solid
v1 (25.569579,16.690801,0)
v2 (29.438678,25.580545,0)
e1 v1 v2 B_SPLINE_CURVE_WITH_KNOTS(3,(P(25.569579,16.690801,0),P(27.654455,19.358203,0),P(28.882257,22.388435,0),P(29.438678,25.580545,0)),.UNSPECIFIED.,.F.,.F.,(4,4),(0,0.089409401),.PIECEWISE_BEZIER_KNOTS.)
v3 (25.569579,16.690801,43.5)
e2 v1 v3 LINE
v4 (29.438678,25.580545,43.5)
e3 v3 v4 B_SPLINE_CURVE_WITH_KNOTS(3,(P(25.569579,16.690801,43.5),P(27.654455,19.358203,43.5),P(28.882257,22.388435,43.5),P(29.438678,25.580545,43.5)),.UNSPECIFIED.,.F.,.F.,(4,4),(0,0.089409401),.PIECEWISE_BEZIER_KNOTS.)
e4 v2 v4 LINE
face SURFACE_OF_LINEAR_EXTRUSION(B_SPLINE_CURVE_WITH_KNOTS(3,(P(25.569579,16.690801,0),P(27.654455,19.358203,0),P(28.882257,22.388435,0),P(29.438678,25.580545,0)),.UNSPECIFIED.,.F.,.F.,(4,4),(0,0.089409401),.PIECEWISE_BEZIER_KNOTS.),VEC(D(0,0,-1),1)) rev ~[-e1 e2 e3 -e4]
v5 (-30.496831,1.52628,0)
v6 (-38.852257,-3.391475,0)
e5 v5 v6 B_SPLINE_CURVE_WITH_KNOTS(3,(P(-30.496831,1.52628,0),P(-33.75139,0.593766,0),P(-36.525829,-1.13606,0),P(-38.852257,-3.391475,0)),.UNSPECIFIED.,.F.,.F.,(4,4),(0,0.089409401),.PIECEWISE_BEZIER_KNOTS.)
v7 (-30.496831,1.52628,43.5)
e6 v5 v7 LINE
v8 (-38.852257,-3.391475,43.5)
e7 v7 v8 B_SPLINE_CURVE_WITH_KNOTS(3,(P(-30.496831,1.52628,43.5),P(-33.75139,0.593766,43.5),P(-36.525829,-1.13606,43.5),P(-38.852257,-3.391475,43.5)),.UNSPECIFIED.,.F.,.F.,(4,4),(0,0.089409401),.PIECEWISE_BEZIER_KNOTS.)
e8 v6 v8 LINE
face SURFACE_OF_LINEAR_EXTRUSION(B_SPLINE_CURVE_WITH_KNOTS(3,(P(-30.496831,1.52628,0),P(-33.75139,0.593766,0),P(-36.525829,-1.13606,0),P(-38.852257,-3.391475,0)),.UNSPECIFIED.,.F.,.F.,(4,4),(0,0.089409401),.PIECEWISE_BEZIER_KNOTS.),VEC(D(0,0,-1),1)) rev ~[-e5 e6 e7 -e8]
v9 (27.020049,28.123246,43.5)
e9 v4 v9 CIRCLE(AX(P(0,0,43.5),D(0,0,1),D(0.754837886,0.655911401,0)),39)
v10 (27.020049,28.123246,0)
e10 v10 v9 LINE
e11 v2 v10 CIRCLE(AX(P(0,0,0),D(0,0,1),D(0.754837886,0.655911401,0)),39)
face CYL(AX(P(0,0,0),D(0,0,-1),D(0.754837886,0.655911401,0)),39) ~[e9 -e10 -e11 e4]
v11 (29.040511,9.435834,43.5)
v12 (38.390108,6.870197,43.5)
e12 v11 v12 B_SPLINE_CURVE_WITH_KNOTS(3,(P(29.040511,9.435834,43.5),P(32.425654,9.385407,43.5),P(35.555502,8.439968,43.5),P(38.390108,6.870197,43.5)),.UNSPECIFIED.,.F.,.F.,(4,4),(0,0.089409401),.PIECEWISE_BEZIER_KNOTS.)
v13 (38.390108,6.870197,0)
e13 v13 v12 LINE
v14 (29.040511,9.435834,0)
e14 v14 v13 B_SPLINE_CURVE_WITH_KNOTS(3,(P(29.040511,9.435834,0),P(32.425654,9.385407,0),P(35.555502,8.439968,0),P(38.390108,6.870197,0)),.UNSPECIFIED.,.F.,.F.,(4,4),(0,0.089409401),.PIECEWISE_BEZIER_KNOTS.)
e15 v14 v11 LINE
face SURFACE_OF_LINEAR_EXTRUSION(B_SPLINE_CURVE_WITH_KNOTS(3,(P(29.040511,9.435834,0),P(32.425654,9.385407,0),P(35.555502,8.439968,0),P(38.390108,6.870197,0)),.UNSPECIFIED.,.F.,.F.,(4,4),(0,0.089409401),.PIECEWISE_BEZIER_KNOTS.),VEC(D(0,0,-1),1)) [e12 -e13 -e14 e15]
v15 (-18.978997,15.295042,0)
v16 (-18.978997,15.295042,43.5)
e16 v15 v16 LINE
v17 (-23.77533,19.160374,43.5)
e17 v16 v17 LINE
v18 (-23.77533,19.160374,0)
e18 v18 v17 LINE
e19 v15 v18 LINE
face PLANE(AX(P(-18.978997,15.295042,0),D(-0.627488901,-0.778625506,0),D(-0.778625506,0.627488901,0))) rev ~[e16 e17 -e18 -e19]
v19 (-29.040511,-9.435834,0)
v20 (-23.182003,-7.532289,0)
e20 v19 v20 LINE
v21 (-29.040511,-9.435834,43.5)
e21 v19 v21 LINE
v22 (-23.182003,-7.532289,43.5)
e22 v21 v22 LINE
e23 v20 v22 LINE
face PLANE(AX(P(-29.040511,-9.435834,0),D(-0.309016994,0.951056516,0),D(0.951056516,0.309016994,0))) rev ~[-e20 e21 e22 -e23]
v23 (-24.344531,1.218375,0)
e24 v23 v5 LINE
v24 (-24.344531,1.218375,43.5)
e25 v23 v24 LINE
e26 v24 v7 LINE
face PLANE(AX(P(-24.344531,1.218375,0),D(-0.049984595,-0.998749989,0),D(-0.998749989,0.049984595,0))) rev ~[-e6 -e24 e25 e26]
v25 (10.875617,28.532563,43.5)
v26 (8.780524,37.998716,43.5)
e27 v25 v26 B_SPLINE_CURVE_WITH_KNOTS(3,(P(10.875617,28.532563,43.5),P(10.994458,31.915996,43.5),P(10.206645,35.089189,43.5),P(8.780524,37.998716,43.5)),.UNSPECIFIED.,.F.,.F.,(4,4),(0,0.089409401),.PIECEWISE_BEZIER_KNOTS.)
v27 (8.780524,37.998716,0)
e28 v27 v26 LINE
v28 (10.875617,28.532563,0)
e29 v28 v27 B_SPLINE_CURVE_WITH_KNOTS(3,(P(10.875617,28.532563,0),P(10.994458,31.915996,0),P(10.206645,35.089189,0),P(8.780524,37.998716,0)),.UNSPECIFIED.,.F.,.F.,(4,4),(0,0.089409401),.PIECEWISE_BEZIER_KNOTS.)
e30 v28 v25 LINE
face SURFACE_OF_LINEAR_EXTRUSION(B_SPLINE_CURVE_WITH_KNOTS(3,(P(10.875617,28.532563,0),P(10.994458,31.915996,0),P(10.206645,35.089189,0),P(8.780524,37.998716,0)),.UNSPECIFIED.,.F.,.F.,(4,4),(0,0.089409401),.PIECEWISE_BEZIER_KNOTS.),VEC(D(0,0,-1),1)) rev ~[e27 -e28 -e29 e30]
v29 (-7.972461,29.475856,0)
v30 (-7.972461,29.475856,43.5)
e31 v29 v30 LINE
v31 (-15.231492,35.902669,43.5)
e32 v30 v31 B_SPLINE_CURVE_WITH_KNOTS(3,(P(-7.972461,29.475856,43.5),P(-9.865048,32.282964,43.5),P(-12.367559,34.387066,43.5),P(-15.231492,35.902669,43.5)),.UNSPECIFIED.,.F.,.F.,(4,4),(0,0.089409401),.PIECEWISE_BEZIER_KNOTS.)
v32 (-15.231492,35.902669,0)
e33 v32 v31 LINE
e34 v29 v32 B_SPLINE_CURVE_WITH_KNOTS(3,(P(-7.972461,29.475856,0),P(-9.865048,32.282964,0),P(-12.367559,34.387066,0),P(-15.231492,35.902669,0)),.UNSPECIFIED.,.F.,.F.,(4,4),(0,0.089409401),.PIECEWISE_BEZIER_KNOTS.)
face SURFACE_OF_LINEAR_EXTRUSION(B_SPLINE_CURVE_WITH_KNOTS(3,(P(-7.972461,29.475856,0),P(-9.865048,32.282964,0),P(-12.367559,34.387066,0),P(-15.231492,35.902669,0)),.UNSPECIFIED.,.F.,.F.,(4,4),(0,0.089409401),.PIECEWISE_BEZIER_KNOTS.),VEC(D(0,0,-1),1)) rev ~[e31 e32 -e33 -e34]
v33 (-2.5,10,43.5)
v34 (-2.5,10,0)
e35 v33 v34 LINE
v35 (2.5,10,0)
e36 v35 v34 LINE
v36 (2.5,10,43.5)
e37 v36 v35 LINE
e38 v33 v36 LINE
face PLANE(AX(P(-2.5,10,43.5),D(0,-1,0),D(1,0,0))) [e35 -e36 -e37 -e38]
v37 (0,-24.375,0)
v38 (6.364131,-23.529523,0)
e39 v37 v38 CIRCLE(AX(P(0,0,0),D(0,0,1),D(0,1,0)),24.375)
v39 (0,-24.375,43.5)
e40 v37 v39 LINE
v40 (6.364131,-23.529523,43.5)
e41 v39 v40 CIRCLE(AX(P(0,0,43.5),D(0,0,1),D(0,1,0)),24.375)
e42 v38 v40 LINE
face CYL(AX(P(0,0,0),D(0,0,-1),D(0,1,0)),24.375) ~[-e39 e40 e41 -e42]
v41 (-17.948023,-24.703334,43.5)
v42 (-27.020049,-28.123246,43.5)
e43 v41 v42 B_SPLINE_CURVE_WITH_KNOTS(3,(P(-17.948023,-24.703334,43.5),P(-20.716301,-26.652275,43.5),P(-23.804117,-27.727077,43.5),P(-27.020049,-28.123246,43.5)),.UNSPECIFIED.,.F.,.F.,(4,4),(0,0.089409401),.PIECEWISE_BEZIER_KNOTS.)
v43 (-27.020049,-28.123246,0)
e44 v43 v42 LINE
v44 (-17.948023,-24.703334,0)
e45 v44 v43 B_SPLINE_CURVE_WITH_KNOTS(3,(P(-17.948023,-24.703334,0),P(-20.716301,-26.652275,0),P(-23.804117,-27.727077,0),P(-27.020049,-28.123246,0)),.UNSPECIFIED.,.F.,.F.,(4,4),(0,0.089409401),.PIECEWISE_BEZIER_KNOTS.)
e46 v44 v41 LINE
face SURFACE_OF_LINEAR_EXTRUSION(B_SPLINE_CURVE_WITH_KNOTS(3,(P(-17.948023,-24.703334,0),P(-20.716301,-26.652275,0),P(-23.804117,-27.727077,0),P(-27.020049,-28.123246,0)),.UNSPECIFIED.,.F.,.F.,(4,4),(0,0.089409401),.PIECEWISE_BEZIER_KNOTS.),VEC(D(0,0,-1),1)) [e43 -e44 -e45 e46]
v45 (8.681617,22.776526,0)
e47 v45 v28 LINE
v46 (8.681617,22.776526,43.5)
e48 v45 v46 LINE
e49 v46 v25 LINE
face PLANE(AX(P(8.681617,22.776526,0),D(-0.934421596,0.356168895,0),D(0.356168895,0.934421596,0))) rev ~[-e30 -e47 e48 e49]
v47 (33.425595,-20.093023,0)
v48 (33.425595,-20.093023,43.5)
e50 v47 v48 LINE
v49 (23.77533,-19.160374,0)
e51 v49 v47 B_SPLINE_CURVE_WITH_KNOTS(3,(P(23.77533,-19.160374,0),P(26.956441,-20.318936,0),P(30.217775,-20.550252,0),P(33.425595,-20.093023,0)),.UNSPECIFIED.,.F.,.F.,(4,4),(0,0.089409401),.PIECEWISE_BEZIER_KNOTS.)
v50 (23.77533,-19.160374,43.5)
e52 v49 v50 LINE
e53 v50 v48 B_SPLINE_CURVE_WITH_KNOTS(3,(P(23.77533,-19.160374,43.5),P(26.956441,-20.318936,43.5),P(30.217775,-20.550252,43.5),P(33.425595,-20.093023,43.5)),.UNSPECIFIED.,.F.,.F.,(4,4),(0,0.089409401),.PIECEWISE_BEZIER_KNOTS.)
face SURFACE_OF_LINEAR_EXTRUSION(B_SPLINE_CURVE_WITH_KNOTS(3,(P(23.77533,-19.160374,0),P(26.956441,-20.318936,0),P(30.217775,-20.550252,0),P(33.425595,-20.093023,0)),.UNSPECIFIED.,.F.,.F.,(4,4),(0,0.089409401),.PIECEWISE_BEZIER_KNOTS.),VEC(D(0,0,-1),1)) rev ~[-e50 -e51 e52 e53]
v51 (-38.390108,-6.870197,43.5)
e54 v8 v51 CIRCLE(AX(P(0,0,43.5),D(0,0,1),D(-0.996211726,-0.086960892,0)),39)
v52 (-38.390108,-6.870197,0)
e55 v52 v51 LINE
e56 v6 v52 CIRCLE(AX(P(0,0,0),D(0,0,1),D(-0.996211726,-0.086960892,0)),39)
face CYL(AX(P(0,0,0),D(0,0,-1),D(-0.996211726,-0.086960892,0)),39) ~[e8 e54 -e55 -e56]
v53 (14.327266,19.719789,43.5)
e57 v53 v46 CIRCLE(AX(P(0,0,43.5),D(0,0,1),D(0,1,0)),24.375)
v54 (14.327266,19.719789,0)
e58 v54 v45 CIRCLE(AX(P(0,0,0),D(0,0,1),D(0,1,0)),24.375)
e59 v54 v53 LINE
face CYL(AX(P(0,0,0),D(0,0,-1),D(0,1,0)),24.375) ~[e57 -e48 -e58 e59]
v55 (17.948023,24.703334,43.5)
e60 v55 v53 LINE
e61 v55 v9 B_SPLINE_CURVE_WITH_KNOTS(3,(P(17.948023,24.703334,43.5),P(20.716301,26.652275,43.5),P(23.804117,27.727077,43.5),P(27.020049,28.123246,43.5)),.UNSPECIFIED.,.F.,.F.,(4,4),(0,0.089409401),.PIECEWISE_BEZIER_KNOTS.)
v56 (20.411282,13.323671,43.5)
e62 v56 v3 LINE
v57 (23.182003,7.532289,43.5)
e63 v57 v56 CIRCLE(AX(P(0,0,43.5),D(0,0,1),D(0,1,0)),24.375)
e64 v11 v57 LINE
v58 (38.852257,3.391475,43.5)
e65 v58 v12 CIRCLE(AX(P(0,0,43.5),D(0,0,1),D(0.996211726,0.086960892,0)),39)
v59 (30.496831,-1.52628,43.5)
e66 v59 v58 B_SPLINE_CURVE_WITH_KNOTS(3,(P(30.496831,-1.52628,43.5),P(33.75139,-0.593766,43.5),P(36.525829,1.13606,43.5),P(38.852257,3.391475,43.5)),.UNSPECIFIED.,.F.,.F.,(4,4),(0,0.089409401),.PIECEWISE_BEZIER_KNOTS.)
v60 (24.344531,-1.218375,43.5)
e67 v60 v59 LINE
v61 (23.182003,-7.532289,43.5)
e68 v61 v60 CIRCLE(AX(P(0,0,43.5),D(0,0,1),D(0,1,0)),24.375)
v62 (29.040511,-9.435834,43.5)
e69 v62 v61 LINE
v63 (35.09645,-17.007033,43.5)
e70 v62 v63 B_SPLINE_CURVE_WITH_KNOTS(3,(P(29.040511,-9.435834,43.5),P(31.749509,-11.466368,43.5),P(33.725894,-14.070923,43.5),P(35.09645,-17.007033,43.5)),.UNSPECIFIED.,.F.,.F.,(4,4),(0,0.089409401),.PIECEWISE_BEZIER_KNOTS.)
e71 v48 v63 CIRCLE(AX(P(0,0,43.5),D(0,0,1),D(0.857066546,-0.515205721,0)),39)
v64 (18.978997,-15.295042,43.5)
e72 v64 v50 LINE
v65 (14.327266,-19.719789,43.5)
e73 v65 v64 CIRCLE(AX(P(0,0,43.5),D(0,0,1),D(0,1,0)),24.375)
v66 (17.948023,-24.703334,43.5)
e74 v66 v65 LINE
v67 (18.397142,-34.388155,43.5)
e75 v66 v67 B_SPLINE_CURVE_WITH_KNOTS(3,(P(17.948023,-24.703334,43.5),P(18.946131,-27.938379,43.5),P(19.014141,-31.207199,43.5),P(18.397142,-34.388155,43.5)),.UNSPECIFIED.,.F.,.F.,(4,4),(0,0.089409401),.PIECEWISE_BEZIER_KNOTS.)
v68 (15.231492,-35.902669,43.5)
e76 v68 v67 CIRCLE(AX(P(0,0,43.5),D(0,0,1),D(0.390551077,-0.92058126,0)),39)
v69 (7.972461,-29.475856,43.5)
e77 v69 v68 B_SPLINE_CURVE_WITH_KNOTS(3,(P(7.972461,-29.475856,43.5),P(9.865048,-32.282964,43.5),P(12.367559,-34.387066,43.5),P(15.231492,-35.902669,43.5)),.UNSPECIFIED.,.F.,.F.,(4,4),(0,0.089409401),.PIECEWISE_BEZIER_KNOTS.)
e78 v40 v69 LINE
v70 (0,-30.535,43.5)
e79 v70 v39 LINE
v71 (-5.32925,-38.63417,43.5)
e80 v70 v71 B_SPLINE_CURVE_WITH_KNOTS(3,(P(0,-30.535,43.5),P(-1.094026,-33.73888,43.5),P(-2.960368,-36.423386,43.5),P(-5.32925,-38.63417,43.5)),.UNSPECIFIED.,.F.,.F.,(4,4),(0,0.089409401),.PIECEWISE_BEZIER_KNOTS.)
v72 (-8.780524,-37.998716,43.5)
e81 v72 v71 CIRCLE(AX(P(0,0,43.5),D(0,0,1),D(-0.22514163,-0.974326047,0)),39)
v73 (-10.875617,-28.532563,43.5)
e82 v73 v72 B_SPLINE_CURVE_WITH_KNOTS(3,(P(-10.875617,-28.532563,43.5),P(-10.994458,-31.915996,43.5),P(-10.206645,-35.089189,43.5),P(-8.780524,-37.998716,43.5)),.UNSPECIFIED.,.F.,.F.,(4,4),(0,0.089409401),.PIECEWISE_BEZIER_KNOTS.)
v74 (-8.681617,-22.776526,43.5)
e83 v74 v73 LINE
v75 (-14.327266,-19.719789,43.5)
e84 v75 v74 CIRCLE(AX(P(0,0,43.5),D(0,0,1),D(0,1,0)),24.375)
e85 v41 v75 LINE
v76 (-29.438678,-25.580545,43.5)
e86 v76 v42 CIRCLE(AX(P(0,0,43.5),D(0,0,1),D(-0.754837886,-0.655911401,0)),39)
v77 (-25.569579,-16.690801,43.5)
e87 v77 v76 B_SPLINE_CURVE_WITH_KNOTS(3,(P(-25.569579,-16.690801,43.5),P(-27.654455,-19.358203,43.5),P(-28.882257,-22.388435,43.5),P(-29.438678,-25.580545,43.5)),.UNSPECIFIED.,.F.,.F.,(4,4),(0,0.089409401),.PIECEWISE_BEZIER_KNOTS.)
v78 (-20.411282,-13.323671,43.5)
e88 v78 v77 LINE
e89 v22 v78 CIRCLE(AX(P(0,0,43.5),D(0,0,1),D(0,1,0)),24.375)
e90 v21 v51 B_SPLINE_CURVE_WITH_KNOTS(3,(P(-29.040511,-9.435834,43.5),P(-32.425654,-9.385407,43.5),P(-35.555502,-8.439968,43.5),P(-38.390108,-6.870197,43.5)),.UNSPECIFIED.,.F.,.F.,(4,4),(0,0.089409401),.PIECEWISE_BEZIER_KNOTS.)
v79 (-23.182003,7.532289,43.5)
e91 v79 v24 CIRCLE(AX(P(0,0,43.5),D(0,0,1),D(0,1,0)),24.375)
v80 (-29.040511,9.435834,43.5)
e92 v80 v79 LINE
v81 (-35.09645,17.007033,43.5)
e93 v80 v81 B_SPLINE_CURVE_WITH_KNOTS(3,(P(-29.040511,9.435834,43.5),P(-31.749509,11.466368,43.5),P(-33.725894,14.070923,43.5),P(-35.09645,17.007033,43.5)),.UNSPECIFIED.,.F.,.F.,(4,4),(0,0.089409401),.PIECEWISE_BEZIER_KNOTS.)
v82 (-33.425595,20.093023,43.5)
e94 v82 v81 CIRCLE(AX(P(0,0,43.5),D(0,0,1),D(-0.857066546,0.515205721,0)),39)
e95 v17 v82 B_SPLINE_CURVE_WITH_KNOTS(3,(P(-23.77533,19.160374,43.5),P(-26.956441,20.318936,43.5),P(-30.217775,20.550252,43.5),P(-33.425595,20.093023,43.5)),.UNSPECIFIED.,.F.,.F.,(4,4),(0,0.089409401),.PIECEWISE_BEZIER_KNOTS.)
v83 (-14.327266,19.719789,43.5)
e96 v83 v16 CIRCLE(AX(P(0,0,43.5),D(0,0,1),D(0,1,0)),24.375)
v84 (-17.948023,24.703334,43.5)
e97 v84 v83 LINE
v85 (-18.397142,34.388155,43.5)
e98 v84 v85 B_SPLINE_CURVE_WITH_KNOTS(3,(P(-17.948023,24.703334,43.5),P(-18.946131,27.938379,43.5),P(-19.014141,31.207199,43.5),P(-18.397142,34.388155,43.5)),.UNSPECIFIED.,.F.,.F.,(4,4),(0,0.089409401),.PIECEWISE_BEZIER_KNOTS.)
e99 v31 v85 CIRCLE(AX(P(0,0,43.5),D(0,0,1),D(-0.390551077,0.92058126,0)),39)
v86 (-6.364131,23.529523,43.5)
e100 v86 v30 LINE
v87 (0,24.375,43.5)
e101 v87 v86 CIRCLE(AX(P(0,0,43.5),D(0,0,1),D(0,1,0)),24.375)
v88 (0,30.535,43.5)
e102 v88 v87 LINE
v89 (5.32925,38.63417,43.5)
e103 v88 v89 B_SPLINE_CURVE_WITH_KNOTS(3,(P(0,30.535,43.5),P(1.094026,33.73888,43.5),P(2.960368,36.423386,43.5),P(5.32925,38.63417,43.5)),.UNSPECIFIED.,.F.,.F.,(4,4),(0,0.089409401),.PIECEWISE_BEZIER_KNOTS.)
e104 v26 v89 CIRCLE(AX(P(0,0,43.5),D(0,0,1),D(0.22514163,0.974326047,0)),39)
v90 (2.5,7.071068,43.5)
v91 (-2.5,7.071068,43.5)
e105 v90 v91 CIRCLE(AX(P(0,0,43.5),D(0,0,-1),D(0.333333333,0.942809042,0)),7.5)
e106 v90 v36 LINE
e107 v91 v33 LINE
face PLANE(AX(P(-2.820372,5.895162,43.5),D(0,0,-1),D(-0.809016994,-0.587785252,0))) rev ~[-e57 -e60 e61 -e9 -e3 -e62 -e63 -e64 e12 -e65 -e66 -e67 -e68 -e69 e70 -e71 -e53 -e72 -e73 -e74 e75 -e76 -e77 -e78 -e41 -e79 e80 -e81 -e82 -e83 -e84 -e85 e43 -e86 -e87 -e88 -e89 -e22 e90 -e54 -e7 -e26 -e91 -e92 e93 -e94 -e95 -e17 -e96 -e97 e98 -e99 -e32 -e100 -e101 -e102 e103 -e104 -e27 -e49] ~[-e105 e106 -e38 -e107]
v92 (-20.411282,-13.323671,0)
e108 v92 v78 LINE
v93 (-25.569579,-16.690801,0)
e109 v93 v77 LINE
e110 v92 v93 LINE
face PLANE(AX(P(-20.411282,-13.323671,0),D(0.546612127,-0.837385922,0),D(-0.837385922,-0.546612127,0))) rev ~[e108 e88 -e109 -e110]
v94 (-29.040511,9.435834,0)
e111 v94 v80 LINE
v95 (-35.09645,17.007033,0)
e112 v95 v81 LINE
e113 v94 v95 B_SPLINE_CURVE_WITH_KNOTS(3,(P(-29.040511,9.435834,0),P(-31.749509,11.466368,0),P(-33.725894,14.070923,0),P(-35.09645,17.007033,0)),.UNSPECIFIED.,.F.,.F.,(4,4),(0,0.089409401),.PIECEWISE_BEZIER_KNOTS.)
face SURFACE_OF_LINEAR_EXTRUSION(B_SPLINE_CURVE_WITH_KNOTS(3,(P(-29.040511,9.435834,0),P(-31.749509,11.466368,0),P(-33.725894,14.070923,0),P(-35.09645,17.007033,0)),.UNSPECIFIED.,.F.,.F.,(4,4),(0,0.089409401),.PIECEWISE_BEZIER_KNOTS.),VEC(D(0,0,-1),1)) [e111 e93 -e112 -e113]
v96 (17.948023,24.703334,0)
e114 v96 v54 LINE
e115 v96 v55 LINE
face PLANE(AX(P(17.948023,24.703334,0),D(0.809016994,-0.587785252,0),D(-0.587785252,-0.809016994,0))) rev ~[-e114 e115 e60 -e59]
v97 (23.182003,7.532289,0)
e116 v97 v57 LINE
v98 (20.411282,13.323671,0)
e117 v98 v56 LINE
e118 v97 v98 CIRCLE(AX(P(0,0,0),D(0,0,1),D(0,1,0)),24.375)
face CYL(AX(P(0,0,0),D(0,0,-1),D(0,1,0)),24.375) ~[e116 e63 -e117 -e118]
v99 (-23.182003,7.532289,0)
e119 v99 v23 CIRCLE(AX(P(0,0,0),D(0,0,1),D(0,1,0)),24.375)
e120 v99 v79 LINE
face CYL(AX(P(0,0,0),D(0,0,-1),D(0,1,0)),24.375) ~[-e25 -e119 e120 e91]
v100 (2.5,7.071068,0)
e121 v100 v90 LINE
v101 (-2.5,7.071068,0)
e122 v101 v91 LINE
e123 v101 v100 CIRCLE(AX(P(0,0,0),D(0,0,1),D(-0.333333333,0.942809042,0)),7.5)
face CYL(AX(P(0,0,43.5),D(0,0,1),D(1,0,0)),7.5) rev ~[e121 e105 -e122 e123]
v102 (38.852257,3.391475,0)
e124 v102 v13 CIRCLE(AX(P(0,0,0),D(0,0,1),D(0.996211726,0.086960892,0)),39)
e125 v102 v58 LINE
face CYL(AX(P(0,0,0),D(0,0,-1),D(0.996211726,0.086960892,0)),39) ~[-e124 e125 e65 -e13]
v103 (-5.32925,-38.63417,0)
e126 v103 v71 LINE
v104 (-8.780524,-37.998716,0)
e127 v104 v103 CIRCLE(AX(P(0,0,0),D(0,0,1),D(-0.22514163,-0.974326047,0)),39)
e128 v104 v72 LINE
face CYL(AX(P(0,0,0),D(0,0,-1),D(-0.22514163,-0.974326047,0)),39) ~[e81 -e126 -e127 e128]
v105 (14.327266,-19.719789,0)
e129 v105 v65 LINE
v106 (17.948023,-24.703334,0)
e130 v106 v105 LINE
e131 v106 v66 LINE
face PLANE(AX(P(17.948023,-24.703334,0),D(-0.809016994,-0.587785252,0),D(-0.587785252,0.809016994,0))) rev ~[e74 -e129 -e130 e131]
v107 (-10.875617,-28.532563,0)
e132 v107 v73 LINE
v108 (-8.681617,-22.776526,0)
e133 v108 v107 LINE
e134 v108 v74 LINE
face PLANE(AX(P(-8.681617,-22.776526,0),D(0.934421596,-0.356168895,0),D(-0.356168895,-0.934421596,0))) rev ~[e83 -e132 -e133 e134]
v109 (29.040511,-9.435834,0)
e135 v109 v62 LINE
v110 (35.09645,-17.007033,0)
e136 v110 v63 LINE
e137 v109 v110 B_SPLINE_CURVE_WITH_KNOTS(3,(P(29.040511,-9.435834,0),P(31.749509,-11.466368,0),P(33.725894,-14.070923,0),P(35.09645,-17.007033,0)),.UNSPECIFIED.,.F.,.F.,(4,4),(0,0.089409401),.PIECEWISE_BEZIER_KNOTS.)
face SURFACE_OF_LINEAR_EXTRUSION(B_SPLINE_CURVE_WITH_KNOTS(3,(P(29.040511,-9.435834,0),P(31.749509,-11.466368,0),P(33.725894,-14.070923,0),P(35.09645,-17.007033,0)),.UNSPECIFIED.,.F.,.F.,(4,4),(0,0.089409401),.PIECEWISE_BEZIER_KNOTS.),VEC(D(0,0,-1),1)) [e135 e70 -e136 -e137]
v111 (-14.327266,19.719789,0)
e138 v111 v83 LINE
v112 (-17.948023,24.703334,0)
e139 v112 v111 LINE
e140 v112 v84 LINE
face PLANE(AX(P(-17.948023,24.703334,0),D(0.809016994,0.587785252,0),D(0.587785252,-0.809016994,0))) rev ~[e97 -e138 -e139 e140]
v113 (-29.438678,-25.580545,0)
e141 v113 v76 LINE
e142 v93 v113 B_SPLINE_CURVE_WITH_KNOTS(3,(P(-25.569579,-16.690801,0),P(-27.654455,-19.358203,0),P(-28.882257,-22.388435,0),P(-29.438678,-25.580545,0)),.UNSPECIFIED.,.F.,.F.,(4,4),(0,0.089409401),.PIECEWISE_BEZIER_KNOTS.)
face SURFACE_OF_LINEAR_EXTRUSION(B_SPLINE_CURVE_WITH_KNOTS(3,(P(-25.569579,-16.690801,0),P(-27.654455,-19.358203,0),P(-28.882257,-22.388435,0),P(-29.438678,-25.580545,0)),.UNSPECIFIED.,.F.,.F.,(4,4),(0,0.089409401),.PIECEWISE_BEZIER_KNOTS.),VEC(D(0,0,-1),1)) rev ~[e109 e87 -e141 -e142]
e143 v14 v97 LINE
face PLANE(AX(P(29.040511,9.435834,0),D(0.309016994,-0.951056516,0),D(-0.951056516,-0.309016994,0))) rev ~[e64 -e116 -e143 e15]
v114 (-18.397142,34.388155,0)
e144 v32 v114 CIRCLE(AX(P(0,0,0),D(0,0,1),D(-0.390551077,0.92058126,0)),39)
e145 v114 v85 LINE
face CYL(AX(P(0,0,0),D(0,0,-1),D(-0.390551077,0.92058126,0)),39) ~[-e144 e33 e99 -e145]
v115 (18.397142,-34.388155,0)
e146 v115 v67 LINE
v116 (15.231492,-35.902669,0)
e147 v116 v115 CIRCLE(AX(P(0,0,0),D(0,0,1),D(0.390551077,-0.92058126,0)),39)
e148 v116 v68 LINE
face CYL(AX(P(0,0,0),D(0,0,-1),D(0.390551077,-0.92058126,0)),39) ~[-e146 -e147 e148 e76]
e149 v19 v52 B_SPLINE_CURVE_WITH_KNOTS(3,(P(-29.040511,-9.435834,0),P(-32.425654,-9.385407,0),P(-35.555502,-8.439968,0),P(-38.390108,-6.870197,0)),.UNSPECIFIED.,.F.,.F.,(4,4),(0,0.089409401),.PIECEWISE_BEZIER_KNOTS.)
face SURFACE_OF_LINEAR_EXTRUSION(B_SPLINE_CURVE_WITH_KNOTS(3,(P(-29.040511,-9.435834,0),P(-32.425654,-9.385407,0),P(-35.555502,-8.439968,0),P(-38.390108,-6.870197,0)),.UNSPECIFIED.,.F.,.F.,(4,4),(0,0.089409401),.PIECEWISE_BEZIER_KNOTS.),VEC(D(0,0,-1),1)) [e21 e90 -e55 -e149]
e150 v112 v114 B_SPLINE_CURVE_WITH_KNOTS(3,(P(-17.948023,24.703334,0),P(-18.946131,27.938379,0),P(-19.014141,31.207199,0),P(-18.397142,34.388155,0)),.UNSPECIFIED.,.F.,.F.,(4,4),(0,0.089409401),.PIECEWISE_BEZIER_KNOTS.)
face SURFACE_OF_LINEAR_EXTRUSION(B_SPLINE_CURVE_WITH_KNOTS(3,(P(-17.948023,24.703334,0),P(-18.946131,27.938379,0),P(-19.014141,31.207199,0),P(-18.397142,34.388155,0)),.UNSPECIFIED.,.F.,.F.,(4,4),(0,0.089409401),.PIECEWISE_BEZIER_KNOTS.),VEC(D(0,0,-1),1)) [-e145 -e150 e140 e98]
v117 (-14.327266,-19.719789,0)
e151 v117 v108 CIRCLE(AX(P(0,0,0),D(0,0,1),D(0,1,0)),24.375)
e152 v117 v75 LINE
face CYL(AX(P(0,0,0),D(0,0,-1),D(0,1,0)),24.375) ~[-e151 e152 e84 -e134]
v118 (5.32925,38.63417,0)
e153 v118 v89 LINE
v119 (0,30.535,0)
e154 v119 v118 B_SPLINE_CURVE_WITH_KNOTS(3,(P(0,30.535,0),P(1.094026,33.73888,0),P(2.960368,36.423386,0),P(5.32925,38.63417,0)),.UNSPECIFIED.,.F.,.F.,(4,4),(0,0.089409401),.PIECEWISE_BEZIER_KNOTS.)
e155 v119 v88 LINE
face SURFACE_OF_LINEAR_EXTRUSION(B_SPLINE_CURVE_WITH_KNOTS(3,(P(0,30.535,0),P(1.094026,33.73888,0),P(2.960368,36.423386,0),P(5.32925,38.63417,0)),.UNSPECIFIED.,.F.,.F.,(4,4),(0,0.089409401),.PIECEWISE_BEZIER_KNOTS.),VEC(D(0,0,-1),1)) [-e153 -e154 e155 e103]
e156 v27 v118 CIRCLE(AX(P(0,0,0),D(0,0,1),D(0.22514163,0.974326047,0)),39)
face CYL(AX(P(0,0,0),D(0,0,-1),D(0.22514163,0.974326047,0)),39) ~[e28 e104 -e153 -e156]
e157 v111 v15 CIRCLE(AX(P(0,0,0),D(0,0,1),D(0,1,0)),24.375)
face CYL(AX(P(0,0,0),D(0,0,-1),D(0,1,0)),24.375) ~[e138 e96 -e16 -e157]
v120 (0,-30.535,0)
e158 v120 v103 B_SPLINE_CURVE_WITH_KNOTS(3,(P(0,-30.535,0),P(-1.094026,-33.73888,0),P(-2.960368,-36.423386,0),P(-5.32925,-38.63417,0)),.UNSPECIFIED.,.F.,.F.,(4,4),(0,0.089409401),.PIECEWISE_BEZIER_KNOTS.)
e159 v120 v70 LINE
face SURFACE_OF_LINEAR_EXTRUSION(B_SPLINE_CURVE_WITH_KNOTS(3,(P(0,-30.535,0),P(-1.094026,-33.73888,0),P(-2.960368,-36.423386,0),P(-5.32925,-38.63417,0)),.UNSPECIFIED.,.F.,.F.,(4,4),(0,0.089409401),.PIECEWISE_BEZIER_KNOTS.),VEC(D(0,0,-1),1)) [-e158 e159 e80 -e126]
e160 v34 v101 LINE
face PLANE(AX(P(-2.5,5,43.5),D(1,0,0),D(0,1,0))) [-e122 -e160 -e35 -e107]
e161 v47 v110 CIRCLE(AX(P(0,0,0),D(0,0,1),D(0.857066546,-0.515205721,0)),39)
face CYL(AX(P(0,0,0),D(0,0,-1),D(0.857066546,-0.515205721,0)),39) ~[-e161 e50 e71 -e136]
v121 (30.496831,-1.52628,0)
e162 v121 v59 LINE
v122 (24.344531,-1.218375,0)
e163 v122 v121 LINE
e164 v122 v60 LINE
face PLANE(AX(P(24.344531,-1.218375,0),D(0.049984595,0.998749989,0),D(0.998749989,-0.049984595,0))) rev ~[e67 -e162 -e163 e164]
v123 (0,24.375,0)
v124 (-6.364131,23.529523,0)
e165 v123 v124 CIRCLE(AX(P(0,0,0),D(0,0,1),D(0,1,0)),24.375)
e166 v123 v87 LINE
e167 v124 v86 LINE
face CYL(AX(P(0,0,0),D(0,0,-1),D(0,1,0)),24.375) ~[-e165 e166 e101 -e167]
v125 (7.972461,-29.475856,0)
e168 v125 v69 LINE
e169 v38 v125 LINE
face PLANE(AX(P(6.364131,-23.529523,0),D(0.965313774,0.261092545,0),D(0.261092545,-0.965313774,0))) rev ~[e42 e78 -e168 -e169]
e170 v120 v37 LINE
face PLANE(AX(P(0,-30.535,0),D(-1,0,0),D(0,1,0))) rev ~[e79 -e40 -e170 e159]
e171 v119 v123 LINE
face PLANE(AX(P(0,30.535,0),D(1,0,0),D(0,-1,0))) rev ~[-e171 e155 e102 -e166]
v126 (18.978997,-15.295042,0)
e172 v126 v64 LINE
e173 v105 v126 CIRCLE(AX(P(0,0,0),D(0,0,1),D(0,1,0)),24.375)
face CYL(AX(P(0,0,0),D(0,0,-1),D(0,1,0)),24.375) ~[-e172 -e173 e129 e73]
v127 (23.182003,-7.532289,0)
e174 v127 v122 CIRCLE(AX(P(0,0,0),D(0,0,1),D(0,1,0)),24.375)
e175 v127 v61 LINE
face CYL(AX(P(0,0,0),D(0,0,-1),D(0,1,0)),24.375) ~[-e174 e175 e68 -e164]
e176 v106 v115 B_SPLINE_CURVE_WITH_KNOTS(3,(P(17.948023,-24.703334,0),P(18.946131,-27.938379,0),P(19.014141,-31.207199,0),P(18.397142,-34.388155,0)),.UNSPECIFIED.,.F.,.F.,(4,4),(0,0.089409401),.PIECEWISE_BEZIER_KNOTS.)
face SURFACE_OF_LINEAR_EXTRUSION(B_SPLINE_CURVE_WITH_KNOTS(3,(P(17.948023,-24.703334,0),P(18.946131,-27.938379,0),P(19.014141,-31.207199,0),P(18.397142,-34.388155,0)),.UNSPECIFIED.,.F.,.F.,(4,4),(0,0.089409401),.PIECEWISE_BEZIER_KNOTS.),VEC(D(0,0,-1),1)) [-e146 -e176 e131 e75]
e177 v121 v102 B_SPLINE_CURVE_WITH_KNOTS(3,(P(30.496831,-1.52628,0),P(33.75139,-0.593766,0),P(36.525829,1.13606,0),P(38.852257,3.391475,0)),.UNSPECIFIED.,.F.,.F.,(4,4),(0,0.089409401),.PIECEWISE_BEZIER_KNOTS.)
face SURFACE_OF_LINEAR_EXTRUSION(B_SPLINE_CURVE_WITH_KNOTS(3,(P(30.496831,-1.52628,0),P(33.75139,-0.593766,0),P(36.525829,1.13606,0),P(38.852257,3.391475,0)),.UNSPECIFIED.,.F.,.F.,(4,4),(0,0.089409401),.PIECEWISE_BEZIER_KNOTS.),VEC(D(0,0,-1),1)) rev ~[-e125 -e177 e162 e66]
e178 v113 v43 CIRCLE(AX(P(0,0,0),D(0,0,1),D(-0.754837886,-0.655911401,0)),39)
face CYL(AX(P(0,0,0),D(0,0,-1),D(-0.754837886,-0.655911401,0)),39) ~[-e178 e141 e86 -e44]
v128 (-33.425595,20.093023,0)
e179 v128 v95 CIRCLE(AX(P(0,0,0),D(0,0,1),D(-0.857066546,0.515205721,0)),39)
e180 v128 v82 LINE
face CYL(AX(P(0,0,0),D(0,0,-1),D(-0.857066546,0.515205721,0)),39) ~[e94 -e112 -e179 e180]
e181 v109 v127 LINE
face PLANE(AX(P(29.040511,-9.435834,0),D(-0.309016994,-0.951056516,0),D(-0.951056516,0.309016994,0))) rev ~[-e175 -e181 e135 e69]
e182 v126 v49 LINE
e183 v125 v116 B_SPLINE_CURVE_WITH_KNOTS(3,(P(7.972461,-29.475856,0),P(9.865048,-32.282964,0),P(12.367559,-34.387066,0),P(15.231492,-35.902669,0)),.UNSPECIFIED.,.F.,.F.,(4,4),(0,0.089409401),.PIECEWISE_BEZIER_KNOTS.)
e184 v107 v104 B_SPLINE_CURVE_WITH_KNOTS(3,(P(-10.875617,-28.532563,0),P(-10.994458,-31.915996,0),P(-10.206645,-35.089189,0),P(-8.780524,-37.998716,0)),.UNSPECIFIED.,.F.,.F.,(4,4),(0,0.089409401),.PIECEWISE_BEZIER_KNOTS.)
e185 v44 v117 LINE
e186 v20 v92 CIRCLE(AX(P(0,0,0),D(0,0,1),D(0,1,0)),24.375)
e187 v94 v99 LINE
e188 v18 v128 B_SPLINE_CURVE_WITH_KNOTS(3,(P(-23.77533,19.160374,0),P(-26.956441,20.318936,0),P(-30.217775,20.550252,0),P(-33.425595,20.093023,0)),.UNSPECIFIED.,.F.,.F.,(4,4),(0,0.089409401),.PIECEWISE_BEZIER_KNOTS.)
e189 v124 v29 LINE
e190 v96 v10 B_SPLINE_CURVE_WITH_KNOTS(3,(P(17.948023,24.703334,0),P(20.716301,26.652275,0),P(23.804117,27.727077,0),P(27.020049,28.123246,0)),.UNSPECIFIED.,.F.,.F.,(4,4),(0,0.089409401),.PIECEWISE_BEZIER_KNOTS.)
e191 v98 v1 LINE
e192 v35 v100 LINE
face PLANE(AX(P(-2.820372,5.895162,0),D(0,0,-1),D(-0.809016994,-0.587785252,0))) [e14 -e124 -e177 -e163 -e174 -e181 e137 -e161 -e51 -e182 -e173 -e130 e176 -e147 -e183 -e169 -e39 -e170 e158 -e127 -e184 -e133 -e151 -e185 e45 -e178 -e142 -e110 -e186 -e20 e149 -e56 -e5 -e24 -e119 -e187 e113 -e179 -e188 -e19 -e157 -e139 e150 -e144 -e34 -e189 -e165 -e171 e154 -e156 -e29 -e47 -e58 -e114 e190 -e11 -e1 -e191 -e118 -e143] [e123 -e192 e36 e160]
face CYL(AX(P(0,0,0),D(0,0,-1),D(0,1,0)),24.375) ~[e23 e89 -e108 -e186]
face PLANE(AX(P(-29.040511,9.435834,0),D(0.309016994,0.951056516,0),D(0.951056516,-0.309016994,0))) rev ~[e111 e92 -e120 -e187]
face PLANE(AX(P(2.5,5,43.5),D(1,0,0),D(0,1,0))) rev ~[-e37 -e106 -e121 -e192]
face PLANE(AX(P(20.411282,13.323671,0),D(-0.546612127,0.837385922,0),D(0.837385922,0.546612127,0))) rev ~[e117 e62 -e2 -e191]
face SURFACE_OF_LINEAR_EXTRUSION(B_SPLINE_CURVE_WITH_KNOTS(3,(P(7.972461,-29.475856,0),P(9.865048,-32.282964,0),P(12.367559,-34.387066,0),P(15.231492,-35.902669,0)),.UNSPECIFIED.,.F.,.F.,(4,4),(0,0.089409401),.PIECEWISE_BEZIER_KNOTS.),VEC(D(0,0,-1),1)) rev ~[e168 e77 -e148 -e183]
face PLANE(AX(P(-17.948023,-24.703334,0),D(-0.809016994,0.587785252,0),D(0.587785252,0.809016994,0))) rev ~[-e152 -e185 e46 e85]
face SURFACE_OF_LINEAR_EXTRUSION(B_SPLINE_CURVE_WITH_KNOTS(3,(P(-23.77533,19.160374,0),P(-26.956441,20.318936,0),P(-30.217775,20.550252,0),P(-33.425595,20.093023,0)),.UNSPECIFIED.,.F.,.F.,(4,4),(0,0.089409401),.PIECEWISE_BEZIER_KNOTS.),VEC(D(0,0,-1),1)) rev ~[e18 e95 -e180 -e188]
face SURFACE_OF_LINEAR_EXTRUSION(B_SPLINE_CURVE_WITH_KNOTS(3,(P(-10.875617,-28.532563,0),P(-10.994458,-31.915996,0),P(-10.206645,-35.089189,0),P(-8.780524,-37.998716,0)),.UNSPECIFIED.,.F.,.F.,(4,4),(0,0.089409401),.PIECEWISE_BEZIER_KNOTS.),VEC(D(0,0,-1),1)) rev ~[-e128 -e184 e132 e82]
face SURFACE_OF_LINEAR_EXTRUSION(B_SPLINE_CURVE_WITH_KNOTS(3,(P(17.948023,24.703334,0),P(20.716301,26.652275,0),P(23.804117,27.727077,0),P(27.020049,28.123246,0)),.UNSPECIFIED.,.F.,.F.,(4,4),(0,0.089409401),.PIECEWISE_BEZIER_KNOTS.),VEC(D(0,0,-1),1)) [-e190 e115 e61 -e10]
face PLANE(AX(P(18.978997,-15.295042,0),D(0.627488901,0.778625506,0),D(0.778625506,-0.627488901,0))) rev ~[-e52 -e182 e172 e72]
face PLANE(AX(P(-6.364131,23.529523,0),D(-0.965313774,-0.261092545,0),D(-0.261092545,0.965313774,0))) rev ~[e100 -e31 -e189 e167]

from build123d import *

# Parameters (mm, degrees)
BOSS_EXTRUDE1_DEPTH = 43.5
CIRPATTERN1_COUNT   = 10
SKETCH2_R           = 7.5
CUT_EXTRUDE1_DEPTH  = 70.959609915
SKETCH3_W           = 5
SKETCH3_H           = 5
CUT_EXTRUDE2_DEPTH  = 70.959609915


with BuildPart() as part:
    # Sketch1 → Boss-Extrude1 (new body)
    with BuildSketch(Plane.XY):
        with BuildLine():
            add(Edge.make_bspline(
                [(0, 30.535), (1.094025697, 33.738879921), (2.960368297, 36.423385517), (5.329249796, 38.634170065)],
                knots=[0, 0, 0, 0, 0.089409401, 0.089409401, 0.089409401, 0.089409401], degree=3))
            Line((0, 30.535), (0, 24.375))
            ThreePointArc((0, 24.375), (-4.413773565, -23.972050974), (8.681616812, 22.776526393))
            Line((8.681616812, 22.776526393), (10.875617204, 28.532563422))
            add(Edge.make_bspline(
                [(10.875617204, 28.532563422), (10.994458338, 31.915995933), (10.206644899, 35.089189117), (8.780523558, 37.998715847)],
                knots=[0, 0, 0, 0, 0.089409401, 0.089409401, 0.089409401, 0.089409401], degree=3))
            ThreePointArc((8.780523558, 37.998715847), (7.062037704, 38.355281559), (5.329249796, 38.634170065))
        make_face()
    boss_extrude1 = extrude(amount=BOSS_EXTRUDE1_DEPTH)

    # CirPattern1: Boss-Extrude1 ×10 about axis
    cirpattern1_axis = Axis((0, 0, 0), (0, 0, -1))
    for i in range(1, CIRPATTERN1_COUNT):
        add(boss_extrude1.rotate(cirpattern1_axis, i * 360 / CIRPATTERN1_COUNT))

    # Sketch2 → Cut-Extrude1 (cut, through all)
    with BuildSketch(Plane.XY.offset(43.5)):
        Circle(SKETCH2_R)
    extrude(amount=-CUT_EXTRUDE1_DEPTH, mode=Mode.SUBTRACT)

    # Sketch3 → Cut-Extrude2 (cut, through all)
    with BuildSketch(Plane.XY.offset(43.5)):
        with Locations((0, 7.5)):
            Rectangle(SKETCH3_W, SKETCH3_H)
    extrude(amount=-CUT_EXTRUDE2_DEPTH, mode=Mode.SUBTRACT)


solid = part.part
